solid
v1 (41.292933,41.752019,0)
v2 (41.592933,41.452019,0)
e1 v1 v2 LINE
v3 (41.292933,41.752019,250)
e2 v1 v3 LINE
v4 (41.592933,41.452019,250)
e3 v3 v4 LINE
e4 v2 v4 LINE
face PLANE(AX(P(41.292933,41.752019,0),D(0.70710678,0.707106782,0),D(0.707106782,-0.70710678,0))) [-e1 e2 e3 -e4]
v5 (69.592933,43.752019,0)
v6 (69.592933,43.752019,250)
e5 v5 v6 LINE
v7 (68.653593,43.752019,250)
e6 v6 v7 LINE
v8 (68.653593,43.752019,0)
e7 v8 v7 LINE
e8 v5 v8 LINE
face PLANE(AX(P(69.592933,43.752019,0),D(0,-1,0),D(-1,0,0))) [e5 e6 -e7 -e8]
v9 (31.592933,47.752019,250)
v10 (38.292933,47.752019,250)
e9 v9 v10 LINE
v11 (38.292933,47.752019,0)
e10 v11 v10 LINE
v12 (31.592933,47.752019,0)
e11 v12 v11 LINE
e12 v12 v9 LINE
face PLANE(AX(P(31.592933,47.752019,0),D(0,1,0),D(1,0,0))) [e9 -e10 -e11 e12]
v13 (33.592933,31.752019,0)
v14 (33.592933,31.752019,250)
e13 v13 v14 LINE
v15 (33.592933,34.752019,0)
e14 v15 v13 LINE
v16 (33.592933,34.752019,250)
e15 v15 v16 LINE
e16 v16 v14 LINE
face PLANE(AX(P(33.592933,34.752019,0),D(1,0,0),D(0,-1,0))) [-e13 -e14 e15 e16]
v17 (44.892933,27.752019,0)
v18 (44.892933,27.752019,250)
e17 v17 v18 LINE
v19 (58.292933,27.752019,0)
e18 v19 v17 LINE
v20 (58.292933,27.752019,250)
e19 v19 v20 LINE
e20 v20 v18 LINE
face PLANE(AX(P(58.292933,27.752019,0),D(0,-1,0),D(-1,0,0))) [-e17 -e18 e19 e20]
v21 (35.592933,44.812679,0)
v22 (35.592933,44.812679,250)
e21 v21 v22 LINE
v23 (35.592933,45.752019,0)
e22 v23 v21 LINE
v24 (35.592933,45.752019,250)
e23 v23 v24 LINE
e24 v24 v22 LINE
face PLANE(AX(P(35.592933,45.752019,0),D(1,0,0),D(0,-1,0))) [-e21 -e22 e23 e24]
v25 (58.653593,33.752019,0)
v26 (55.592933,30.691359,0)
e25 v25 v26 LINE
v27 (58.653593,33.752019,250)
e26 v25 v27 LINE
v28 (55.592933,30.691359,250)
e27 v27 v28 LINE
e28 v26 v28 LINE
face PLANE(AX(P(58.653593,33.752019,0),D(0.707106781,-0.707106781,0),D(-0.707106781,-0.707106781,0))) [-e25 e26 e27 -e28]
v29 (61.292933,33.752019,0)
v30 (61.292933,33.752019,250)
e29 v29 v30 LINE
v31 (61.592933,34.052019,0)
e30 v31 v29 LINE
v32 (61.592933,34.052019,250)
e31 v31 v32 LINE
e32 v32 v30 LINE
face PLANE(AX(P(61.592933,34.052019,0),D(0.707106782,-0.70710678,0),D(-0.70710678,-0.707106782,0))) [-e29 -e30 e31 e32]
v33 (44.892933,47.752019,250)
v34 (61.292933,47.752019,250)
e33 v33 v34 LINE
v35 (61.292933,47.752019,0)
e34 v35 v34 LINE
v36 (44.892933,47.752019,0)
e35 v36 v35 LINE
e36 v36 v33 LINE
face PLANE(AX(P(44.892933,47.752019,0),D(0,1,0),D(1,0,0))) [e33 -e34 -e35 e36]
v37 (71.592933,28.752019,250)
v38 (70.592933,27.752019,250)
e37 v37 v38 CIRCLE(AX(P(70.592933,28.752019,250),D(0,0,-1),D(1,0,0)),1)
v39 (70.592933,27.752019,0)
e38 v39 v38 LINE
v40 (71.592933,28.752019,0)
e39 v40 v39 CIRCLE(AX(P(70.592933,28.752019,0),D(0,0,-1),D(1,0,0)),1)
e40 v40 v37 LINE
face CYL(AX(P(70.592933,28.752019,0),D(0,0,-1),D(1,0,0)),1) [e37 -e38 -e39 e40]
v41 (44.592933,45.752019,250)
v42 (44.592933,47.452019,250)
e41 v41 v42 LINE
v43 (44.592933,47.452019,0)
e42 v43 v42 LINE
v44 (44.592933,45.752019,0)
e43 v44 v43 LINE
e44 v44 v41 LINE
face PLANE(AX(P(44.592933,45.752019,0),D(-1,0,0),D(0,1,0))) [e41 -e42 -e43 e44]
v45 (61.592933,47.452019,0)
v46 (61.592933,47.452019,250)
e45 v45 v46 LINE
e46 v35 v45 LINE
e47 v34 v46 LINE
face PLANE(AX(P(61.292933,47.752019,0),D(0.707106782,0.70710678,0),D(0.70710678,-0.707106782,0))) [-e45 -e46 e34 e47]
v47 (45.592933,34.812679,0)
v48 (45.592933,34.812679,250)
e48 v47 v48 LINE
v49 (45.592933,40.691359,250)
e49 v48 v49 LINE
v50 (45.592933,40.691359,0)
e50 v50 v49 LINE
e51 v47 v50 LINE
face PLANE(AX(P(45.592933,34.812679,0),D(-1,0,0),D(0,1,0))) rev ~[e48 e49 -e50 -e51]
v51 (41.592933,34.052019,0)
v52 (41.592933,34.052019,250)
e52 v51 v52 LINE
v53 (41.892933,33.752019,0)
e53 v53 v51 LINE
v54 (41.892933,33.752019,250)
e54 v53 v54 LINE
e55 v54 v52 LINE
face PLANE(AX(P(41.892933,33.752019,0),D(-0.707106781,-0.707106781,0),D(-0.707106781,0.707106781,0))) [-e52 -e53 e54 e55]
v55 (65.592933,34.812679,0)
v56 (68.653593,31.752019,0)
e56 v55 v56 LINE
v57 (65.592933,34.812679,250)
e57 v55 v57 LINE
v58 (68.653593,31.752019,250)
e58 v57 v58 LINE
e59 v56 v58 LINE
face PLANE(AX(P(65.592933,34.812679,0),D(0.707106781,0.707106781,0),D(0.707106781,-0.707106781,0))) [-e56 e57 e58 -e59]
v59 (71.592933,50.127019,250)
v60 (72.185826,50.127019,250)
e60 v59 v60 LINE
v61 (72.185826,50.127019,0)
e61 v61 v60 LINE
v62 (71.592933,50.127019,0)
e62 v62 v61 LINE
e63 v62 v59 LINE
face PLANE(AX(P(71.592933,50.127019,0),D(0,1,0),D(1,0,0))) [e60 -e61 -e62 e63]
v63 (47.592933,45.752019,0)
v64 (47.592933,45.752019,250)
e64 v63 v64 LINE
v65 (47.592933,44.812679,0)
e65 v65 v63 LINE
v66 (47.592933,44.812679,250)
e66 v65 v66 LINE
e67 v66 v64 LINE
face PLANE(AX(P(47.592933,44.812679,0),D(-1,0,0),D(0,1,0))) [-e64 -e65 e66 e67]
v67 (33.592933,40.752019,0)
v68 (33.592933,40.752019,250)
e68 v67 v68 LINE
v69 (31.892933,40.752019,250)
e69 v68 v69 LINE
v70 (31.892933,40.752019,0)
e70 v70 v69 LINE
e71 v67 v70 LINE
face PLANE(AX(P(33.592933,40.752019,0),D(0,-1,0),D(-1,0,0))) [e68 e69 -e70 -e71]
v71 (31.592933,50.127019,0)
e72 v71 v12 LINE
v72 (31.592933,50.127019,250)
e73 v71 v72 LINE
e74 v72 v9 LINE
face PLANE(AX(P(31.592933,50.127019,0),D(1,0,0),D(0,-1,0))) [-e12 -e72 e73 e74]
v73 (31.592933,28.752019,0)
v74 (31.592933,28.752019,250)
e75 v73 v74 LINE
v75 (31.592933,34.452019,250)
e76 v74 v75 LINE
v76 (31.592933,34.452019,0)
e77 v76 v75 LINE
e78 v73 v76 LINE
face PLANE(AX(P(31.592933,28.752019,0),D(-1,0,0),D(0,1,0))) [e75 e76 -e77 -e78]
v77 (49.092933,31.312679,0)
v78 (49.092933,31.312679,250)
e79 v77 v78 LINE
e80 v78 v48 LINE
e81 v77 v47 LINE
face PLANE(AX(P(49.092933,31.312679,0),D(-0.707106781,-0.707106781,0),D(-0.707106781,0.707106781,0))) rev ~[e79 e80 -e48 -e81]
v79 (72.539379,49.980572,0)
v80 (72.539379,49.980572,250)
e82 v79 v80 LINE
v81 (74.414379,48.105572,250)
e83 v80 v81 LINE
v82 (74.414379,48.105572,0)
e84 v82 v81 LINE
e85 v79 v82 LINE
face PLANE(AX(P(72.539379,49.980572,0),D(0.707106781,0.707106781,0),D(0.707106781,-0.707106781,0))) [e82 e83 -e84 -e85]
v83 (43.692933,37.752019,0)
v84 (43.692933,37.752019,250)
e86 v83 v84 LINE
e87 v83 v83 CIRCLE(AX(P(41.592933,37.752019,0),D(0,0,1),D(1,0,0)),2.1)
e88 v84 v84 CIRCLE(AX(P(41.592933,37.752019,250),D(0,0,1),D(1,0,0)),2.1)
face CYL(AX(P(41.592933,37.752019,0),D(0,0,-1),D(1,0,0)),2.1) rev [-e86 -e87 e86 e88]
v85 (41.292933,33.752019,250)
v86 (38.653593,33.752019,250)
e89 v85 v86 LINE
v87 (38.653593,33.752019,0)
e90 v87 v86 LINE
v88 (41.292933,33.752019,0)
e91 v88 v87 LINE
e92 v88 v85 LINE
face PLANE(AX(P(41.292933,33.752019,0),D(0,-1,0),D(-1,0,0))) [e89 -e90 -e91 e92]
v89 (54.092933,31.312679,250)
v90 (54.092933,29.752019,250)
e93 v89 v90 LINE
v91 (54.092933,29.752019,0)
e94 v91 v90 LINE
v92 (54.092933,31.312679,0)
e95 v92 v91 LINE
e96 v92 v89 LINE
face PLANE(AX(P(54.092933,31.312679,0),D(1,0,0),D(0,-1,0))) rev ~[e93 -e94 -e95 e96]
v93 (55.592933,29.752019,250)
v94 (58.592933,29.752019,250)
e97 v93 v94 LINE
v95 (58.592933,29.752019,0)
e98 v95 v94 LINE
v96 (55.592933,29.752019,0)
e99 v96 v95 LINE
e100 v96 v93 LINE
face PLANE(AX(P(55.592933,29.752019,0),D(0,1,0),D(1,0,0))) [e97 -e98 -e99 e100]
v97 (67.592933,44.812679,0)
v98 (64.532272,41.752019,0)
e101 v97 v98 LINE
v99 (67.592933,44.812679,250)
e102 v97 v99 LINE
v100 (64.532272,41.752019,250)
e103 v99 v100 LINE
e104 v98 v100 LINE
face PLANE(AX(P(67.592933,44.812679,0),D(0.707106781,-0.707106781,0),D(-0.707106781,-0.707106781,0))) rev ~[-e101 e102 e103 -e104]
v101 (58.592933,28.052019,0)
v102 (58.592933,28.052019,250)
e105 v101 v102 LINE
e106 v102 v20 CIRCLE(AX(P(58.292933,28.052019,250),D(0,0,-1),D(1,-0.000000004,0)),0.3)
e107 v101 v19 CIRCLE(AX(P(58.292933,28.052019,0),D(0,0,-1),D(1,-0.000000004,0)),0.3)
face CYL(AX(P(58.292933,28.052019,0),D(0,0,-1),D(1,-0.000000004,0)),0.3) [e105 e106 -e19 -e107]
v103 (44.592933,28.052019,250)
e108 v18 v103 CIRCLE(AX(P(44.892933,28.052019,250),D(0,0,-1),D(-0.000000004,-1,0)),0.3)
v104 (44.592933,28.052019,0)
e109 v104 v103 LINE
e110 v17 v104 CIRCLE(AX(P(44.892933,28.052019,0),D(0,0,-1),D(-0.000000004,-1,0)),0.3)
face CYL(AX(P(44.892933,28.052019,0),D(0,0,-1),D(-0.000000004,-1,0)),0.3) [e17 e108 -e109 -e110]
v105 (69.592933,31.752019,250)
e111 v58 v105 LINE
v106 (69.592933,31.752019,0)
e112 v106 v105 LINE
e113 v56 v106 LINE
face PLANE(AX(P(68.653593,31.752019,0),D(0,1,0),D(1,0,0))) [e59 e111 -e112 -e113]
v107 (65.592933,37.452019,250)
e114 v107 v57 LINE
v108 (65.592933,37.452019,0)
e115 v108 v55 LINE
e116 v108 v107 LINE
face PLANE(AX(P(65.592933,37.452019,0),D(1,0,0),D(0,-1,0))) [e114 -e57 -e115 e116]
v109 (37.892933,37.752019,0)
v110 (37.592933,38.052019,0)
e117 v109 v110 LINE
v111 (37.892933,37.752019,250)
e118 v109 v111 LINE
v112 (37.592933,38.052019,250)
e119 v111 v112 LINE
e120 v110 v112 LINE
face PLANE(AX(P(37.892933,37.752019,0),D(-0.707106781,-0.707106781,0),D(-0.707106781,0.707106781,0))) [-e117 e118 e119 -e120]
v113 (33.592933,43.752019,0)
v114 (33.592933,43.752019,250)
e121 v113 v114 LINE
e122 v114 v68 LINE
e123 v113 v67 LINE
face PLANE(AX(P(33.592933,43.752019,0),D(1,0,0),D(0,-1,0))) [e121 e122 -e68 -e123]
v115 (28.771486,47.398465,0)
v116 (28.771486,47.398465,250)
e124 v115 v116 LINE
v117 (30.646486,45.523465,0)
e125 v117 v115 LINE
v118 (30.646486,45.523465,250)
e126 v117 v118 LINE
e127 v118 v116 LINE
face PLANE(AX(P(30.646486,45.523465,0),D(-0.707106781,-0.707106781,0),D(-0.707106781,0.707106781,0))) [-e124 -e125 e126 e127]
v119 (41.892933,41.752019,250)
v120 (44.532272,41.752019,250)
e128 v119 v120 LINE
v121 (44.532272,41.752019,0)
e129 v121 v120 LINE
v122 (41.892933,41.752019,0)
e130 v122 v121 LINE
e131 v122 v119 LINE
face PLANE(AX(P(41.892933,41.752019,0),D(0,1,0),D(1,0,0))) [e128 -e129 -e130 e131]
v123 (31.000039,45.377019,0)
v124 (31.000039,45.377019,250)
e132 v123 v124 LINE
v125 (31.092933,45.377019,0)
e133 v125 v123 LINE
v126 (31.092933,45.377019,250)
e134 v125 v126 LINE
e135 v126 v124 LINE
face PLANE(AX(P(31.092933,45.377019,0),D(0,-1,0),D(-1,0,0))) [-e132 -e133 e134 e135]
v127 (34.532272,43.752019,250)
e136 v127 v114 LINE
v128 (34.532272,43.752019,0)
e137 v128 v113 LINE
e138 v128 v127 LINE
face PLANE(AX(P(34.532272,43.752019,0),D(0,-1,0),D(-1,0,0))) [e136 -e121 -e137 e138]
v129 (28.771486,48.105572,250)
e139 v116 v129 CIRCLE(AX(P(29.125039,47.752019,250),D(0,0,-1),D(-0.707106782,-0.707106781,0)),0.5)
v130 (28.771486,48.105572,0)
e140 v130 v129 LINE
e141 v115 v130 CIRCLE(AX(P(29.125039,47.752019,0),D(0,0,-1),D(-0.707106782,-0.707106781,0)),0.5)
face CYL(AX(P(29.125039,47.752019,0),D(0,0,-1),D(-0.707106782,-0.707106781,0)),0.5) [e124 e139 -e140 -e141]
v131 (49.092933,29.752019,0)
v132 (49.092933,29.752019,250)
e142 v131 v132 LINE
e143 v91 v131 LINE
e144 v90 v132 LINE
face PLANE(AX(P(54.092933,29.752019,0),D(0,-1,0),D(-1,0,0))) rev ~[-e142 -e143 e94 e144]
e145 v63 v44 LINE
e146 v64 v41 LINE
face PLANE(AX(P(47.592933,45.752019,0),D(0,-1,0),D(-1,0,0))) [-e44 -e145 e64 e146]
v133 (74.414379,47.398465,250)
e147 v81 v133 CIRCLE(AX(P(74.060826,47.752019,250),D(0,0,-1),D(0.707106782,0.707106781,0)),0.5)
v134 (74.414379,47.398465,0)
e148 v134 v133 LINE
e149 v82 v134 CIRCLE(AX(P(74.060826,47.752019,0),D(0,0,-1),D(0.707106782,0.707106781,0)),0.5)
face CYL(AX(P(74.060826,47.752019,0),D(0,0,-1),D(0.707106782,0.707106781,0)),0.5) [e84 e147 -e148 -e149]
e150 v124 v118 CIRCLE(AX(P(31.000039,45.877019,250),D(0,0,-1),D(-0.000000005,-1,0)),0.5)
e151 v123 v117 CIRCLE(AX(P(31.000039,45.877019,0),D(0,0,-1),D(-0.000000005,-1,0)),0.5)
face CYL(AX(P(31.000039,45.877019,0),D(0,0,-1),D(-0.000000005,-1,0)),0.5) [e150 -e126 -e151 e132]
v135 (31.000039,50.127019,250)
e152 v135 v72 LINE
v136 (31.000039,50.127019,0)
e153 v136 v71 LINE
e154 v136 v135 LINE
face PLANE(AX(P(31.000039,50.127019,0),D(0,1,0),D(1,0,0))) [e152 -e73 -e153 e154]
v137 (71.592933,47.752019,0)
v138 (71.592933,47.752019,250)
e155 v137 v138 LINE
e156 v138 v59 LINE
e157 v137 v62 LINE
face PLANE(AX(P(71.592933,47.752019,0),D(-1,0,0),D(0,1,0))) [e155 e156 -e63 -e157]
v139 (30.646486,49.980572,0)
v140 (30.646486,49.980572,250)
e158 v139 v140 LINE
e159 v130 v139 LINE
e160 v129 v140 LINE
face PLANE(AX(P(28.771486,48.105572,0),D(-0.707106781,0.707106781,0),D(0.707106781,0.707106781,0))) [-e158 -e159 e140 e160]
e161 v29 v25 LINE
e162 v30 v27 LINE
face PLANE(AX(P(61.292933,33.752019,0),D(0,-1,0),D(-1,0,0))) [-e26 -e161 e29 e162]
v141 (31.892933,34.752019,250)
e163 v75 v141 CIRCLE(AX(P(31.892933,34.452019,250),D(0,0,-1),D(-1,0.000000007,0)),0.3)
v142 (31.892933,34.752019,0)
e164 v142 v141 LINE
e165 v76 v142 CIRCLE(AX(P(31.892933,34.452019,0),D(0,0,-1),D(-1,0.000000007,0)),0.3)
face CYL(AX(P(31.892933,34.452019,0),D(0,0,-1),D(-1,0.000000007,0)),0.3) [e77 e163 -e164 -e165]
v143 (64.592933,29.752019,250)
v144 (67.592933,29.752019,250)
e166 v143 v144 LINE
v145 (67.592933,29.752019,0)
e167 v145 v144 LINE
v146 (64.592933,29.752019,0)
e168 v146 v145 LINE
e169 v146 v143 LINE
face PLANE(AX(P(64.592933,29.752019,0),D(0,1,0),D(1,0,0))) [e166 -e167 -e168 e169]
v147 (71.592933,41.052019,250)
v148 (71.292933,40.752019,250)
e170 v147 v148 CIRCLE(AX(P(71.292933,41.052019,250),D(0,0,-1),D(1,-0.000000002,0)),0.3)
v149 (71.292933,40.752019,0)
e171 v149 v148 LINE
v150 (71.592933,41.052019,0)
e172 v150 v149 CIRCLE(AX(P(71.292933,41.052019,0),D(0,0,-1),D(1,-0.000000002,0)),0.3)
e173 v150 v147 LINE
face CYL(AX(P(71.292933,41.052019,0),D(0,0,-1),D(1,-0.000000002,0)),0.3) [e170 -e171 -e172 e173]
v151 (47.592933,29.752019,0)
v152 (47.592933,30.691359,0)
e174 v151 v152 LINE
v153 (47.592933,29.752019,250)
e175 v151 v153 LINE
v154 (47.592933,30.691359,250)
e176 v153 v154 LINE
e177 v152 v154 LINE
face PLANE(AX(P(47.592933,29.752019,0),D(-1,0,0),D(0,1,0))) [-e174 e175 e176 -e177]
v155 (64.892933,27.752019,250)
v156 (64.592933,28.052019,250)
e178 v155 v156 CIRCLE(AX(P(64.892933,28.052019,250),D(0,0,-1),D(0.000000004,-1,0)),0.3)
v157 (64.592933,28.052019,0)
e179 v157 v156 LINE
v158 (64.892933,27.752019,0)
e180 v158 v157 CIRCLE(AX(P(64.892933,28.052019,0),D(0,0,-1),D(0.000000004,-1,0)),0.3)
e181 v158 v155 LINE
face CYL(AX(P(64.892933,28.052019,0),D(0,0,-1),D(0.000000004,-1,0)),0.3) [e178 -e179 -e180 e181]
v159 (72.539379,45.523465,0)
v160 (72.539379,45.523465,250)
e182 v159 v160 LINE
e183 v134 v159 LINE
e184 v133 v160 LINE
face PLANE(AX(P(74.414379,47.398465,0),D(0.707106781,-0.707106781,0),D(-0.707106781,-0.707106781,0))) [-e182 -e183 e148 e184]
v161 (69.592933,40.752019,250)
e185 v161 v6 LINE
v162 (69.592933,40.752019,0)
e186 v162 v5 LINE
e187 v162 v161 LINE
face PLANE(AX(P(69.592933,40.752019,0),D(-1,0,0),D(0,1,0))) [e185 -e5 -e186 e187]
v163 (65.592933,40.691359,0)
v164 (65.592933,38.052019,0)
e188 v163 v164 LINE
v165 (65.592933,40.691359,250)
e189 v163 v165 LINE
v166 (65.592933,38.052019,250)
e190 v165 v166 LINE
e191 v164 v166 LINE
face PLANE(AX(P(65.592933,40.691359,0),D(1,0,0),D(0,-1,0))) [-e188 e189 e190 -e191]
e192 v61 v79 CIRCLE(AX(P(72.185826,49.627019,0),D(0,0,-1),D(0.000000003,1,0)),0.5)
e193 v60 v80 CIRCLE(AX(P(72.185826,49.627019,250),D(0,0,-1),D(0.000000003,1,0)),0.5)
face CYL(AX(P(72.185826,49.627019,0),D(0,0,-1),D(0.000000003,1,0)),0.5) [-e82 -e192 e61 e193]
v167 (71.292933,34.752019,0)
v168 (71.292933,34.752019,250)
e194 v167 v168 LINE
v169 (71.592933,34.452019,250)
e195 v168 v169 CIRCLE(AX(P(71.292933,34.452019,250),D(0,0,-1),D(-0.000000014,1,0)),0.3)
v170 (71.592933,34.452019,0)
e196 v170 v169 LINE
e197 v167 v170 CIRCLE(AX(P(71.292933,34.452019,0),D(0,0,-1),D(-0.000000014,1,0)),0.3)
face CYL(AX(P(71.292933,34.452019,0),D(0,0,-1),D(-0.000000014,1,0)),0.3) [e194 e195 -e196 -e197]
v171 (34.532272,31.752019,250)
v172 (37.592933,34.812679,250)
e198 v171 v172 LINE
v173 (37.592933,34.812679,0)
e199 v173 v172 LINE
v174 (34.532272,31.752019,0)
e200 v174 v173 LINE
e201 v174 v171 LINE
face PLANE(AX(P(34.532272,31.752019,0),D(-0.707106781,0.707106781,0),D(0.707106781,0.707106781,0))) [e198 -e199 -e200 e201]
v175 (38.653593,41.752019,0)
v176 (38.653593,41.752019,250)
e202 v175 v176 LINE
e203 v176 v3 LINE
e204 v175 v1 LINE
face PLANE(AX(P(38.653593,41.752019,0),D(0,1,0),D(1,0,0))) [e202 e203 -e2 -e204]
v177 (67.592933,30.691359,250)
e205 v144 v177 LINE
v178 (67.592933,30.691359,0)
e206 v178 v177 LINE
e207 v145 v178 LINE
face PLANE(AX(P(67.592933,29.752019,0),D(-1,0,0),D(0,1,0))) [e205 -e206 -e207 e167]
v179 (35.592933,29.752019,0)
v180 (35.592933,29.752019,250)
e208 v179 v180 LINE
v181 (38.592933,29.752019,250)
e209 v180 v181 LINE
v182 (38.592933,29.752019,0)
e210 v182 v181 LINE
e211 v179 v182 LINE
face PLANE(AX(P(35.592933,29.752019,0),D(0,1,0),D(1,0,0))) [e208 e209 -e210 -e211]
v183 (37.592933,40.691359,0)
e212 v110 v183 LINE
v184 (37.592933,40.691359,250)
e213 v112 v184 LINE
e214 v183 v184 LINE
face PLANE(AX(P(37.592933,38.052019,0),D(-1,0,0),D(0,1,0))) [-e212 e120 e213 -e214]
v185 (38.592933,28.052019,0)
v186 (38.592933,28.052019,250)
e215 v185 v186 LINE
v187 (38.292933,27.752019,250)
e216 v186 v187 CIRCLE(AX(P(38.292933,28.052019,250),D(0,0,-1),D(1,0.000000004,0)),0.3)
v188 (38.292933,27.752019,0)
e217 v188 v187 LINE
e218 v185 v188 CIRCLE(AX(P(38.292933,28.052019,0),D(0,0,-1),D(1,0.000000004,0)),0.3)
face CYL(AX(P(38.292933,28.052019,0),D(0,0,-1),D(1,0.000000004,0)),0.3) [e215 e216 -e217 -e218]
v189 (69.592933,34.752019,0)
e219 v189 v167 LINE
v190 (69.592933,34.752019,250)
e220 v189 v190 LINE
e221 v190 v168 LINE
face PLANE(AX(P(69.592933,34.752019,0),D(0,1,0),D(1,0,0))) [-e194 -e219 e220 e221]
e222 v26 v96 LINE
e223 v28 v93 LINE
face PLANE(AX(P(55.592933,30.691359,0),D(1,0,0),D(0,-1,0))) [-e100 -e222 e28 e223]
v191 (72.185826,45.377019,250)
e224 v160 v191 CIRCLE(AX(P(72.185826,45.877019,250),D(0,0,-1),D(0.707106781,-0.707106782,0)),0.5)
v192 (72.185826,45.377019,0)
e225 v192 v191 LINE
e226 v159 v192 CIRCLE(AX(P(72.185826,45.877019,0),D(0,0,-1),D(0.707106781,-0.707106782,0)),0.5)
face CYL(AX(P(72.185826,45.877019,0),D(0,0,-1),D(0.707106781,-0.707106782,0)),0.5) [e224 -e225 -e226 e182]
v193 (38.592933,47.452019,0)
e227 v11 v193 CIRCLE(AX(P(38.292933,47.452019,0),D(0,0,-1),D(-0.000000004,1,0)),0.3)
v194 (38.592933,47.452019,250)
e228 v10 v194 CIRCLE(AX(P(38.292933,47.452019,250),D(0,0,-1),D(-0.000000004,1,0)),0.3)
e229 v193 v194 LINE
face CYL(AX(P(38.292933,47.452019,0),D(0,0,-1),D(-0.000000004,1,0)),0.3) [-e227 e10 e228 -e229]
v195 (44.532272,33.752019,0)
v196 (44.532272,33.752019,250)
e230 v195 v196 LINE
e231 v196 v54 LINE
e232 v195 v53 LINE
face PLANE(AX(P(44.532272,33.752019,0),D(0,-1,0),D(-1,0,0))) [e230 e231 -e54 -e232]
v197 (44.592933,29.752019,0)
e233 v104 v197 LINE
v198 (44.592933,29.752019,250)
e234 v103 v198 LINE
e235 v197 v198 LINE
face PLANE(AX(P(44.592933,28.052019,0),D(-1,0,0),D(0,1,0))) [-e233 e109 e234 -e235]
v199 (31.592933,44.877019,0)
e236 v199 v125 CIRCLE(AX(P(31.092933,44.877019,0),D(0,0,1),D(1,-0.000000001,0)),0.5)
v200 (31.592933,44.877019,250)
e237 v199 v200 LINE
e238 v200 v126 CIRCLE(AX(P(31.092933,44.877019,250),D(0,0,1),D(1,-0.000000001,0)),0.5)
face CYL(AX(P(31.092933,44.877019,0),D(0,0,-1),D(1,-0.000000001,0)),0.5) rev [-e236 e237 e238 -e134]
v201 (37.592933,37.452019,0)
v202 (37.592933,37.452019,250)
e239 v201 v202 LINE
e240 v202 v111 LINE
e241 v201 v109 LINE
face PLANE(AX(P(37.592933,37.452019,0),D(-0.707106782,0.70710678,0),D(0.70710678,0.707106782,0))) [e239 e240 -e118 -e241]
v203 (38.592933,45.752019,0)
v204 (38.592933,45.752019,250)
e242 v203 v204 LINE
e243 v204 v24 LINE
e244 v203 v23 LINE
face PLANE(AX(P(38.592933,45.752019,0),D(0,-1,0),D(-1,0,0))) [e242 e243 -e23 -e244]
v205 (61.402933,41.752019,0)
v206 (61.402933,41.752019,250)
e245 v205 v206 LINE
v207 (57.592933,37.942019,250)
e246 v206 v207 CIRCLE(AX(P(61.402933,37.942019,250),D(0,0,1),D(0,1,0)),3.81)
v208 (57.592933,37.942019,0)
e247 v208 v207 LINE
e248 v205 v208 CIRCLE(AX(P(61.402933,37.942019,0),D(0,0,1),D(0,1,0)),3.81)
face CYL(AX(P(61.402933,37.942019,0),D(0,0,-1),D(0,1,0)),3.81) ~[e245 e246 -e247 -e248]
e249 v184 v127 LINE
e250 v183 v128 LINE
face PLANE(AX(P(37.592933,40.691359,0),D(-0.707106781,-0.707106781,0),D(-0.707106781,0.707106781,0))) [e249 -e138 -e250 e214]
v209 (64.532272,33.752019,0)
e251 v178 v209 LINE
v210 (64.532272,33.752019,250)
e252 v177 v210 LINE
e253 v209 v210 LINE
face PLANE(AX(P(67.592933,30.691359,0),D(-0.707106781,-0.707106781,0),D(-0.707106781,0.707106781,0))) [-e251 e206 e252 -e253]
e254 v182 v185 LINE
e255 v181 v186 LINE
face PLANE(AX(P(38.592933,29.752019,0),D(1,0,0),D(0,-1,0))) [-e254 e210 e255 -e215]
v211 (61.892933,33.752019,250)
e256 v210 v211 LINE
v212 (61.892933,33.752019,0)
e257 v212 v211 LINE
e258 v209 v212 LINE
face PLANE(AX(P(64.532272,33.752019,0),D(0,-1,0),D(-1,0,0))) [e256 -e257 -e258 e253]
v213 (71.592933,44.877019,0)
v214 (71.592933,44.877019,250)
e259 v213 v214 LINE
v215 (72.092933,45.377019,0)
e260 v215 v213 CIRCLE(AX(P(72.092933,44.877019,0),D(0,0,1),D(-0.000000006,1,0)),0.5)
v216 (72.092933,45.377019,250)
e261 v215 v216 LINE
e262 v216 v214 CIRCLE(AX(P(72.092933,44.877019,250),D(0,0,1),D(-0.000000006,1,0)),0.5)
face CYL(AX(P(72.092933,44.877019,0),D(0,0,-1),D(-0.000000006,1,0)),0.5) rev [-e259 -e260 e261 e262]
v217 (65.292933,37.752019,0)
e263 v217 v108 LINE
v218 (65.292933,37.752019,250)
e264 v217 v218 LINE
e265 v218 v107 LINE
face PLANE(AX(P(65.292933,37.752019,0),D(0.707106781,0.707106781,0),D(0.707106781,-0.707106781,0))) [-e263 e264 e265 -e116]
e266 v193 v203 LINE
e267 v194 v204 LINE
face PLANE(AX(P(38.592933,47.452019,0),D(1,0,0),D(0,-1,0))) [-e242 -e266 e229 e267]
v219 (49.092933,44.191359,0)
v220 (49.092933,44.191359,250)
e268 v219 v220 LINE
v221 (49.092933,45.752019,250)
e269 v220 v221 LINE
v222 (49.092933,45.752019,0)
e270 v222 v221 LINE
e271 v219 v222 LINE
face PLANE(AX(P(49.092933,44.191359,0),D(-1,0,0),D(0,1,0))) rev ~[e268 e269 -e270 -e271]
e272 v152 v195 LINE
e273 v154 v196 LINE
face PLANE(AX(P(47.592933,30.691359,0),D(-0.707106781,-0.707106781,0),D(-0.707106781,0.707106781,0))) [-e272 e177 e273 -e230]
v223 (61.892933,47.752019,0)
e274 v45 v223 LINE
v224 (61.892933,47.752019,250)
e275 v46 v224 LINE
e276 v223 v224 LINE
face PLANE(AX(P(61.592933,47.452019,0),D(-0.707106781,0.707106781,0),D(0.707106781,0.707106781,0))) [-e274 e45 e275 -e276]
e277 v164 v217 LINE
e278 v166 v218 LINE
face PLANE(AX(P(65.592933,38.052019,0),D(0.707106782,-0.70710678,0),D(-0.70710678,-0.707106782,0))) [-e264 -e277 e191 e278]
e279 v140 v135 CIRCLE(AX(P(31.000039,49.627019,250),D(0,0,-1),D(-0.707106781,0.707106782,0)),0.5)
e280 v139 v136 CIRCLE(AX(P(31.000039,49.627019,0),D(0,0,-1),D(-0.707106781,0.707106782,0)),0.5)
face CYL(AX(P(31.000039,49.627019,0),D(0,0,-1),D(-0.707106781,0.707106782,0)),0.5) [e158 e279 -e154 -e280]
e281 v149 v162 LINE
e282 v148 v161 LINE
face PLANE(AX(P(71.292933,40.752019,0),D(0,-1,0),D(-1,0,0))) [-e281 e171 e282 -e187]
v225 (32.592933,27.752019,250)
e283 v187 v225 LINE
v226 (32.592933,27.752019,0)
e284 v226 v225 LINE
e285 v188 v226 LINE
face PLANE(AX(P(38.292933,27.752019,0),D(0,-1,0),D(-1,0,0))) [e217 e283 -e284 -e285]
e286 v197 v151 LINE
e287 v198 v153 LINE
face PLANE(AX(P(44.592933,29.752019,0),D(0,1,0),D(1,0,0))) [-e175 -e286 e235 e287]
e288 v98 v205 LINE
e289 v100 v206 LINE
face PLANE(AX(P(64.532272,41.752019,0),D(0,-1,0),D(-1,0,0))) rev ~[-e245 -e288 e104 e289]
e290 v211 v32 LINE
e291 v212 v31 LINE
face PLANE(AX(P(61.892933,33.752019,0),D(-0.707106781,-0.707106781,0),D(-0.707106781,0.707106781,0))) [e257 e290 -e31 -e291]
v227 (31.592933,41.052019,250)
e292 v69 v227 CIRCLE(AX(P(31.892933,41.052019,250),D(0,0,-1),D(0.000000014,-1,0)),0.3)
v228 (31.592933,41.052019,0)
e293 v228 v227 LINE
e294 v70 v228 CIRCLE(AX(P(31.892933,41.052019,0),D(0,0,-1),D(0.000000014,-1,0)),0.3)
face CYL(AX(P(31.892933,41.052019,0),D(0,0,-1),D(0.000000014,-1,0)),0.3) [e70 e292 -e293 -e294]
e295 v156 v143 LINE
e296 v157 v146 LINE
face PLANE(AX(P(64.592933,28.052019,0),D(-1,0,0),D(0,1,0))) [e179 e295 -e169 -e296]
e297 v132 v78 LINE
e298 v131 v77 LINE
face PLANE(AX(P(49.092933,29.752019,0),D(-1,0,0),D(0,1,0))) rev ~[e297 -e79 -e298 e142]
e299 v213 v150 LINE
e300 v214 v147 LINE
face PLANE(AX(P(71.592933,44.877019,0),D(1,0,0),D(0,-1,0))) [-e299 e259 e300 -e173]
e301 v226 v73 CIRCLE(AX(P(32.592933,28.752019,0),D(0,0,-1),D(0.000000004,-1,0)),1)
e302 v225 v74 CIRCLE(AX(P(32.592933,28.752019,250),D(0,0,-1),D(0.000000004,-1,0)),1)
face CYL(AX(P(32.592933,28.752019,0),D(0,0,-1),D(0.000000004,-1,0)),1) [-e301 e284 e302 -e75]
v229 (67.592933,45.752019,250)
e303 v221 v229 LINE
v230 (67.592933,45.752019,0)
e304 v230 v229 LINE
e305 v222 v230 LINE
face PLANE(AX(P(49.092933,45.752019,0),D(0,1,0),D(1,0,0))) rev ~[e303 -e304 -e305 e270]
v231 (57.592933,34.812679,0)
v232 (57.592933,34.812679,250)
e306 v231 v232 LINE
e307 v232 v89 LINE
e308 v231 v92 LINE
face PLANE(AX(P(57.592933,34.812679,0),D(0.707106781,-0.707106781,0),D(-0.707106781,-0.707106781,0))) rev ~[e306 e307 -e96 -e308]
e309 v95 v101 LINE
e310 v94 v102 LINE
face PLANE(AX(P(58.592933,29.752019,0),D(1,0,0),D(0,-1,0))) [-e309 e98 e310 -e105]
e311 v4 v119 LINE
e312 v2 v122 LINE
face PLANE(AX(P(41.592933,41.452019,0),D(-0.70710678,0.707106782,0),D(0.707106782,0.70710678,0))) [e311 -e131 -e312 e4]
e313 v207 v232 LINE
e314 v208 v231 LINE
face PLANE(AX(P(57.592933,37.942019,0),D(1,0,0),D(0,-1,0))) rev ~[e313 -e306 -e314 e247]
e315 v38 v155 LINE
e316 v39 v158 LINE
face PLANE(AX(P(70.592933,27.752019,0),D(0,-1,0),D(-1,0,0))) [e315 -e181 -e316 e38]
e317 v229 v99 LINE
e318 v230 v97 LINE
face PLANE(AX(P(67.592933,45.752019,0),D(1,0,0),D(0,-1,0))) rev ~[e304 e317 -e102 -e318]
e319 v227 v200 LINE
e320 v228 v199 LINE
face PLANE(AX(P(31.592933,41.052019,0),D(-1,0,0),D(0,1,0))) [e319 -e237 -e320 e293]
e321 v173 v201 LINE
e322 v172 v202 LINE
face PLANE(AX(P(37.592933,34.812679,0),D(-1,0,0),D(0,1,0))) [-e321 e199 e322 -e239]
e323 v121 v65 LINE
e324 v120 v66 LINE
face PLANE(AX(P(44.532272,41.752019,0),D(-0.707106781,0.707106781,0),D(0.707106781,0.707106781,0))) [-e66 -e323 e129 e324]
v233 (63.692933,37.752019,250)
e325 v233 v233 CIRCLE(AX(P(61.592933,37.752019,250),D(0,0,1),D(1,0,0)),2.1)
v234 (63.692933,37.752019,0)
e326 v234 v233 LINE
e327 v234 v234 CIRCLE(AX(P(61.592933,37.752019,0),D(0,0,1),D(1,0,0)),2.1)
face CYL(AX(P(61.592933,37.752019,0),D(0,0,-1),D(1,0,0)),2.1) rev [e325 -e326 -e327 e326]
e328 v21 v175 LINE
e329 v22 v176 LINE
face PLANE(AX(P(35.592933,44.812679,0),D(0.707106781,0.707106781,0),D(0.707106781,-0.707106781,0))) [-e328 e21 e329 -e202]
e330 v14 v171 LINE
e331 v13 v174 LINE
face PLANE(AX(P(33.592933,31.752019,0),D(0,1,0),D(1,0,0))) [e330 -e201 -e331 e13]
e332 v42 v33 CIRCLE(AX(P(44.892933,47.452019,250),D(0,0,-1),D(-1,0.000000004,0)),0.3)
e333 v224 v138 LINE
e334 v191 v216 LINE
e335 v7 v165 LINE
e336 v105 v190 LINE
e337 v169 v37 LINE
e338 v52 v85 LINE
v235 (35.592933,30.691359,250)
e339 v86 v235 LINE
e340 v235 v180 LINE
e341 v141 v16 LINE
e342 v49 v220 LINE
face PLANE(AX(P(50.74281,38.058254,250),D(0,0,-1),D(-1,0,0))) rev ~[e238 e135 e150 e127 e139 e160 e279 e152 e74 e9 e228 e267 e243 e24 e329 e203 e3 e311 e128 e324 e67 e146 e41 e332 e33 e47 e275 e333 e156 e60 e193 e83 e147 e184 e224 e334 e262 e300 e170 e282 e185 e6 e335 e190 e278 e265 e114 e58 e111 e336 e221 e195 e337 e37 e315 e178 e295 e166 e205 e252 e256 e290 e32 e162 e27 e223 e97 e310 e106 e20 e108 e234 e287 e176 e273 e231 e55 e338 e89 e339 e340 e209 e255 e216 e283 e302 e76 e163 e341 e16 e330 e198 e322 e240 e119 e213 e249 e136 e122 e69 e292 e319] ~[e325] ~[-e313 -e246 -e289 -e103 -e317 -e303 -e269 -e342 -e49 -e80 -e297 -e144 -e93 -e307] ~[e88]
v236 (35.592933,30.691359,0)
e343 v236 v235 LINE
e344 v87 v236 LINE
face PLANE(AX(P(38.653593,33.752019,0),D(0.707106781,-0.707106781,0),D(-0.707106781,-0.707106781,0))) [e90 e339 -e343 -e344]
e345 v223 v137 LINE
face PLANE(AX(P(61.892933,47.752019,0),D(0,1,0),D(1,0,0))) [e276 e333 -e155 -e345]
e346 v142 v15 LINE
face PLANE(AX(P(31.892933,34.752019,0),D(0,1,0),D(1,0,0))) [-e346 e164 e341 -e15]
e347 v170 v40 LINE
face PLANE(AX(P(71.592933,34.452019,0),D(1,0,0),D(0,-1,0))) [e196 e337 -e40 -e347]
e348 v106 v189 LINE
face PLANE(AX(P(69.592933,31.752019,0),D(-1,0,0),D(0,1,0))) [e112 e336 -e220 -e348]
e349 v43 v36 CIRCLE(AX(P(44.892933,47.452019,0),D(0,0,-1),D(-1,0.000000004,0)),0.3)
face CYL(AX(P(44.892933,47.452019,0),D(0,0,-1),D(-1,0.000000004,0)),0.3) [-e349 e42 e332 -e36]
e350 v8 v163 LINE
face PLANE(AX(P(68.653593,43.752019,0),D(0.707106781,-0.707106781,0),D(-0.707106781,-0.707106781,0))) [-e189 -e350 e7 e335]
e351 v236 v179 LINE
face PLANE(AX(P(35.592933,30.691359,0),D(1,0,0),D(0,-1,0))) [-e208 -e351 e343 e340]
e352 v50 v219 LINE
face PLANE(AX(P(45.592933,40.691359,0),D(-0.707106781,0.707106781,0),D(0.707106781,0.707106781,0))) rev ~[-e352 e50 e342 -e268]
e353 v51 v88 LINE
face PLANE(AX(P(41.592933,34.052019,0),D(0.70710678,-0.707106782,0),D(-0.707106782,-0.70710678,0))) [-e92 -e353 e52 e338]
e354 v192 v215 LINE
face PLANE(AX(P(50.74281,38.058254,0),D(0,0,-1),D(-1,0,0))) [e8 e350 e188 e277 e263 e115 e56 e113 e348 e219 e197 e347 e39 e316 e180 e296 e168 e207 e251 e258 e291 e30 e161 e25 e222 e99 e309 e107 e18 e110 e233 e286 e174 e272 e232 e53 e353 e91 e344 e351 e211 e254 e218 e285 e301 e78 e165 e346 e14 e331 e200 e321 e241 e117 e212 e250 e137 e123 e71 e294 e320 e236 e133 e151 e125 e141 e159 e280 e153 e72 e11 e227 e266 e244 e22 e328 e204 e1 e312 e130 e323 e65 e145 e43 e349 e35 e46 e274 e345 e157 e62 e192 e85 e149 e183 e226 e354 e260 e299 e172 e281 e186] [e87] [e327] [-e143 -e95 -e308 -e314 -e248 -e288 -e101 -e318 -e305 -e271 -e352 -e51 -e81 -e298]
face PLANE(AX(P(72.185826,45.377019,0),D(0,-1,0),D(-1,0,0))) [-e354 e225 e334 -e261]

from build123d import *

# Parameters (mm, degrees)
MODEL_R             = 2.100000001
BOSS_EXTRUDE1_DEPTH = 250


with BuildPart() as part:
    # Model → Boss-Extrude1 (new body)
    with BuildSketch(Plane.XY):
        with BuildLine():
            Line((28.771485975, 48.105572105), (30.646485975, 49.980572105))
            ThreePointArc((30.646485975, 49.980572105), (30.808697649, 50.08895848), (31.000039365, 50.127018713))
            Line((31.000039365, 50.127018713), (31.592932584, 50.127018713))
            Line((31.592932584, 50.127018713), (31.592932584, 47.752018713))
            Line((31.592932584, 47.752018713), (38.292932585, 47.752018713))
            ThreePointArc((38.292932585, 47.752018713), (38.505064619, 47.664150748), (38.592932584, 47.452018714))
            Line((38.592932584, 47.452018714), (38.592932584, 45.752018713))
            Line((38.592932584, 45.752018713), (35.592932585, 45.752018713))
            Line((35.592932585, 45.752018713), (35.592932585, 44.812678885))
            Line((35.592932585, 44.812678885), (38.653592756, 41.752018713))
            Line((38.653592756, 41.752018713), (41.292932583, 41.752018713))
            Line((41.292932583, 41.752018713), (41.592932584, 41.452018713))
            Line((41.592932584, 41.452018713), (41.892932586, 41.752018714))
            Line((41.892932586, 41.752018714), (44.532272412, 41.752018714))
            Line((44.532272412, 41.752018714), (47.592932584, 44.812678886))
            Line((47.592932584, 44.812678886), (47.592932584, 45.752018714))
            Line((47.592932584, 45.752018714), (44.592932584, 45.752018714))
            Line((44.592932584, 45.752018714), (44.592932584, 47.452018715))
            ThreePointArc((44.592932584, 47.452018715), (44.68080055, 47.664150749), (44.892932584, 47.752018715))
            Line((44.892932584, 47.752018715), (61.292932583, 47.752018715))
            Line((61.292932583, 47.752018715), (61.592932582, 47.452018715))
            Line((61.592932582, 47.452018715), (61.892932583, 47.752018716))
            Line((61.892932583, 47.752018716), (71.592932583, 47.752018716))
            Line((71.592932583, 47.752018716), (71.592932583, 50.127018711))
            Line((71.592932583, 50.127018711), (72.185825802, 50.127018711))
            ThreePointArc((72.185825802, 50.127018711), (72.377167518, 50.088958477), (72.539379192, 49.980572102))
            Line((72.539379192, 49.980572102), (74.414379192, 48.105572102))
            ThreePointArc((74.414379192, 48.105572102), (74.560825801, 47.752018712), (74.414379192, 47.398465322))
            Line((74.414379192, 47.398465322), (72.539379192, 45.523465322))
            ThreePointArc((72.539379192, 45.523465322), (72.377167518, 45.415078947), (72.185825802, 45.377018714))
            Line((72.185825802, 45.377018714), (72.092932582, 45.377018714))
            ThreePointArc((72.092932582, 45.377018714), (71.739379192, 45.230572103), (71.592932583, 44.877018713))
            Line((71.592932583, 44.877018713), (71.592932583, 41.052018712))
            ThreePointArc((71.592932583, 41.052018712), (71.505064617, 40.839886678), (71.292932581, 40.752018713))
            Line((71.292932581, 40.752018713), (69.592932583, 40.752018713))
            Line((69.592932583, 40.752018713), (69.592932583, 43.752018712))
            Line((69.592932583, 43.752018712), (68.653592755, 43.752018712))
            Line((68.653592755, 43.752018712), (65.592932583, 40.691358541))
            Line((65.592932583, 40.691358541), (65.592932583, 38.052018712))
            Line((65.592932583, 38.052018712), (65.292932584, 37.752018712))
            Line((65.292932584, 37.752018712), (65.592932583, 37.452018713))
            Line((65.592932583, 37.452018713), (65.592932583, 34.812678884))
            Line((65.592932583, 34.812678884), (68.653592755, 31.752018712))
            Line((68.653592755, 31.752018712), (69.592932583, 31.752018712))
            Line((69.592932583, 31.752018712), (69.592932583, 34.752018711))
            Line((69.592932583, 34.752018711), (71.292932581, 34.752018711))
            ThreePointArc((71.292932581, 34.752018711), (71.505064617, 34.664150747), (71.592932583, 34.452018712))
            Line((71.592932583, 34.452018712), (71.592932583, 28.75201871))
            ThreePointArc((71.592932583, 28.75201871), (71.300039364, 28.044911929), (70.592932582, 27.752018711))
            Line((70.592932582, 27.752018711), (64.892932582, 27.752018711))
            ThreePointArc((64.892932582, 27.752018711), (64.680800548, 27.839886676), (64.592932583, 28.05201871))
            Line((64.592932583, 28.05201871), (64.592932583, 29.752018711))
            Line((64.592932583, 29.752018711), (67.592932582, 29.752018711))
            Line((67.592932582, 29.752018711), (67.592932582, 30.69135854))
            Line((67.592932582, 30.69135854), (64.532272411, 33.752018711))
            Line((64.532272411, 33.752018711), (61.892932584, 33.752018711))
            Line((61.892932584, 33.752018711), (61.592932582, 34.052018713))
            Line((61.592932582, 34.052018713), (61.292932582, 33.752018712))
            Line((61.292932582, 33.752018712), (58.653592755, 33.752018712))
            Line((58.653592755, 33.752018712), (55.592932583, 30.691358541))
            Line((55.592932583, 30.691358541), (55.592932583, 29.752018713))
            Line((55.592932583, 29.752018713), (58.592932583, 29.752018713))
            Line((58.592932583, 29.752018713), (58.592932583, 28.052018712))
            ThreePointArc((58.592932583, 28.052018712), (58.505064617, 27.839886678), (58.292932583, 27.752018712))
            Line((58.292932583, 27.752018712), (44.892932584, 27.752018712))
            ThreePointArc((44.892932584, 27.752018712), (44.68080055, 27.839886678), (44.592932584, 28.052018712))
            Line((44.592932584, 28.052018712), (44.592932584, 29.752018713))
            Line((44.592932584, 29.752018713), (47.592932584, 29.752018713))
            Line((47.592932584, 29.752018713), (47.592932584, 30.691358541))
            Line((47.592932584, 30.691358541), (44.532272412, 33.752018712))
            Line((44.532272412, 33.752018712), (41.892932586, 33.752018712))
            Line((41.892932586, 33.752018712), (41.592932584, 34.052018714))
            Line((41.592932584, 34.052018714), (41.292932583, 33.752018714))
            Line((41.292932583, 33.752018714), (38.653592756, 33.752018714))
            Line((38.653592756, 33.752018714), (35.592932585, 30.691358542))
            Line((35.592932585, 30.691358542), (35.592932585, 29.752018714))
            Line((35.592932585, 29.752018714), (38.592932584, 29.752018714))
            Line((38.592932584, 29.752018714), (38.592932584, 28.052018713))
            ThreePointArc((38.592932584, 28.052018713), (38.505064619, 27.839886679), (38.292932585, 27.752018714))
            Line((38.292932585, 27.752018714), (32.592932585, 27.752018714))
            ThreePointArc((32.592932585, 27.752018714), (31.885825803, 28.044911931), (31.592932584, 28.752018713))
            Line((31.592932584, 28.752018713), (31.592932584, 34.452018715))
            ThreePointArc((31.592932584, 34.452018715), (31.68080055, 34.664150748), (31.892932583, 34.752018714))
            Line((31.892932583, 34.752018714), (33.592932584, 34.752018714))
            Line((33.592932584, 34.752018714), (33.592932584, 31.752018715))
            Line((33.592932584, 31.752018715), (34.532272412, 31.752018715))
            Line((34.532272412, 31.752018715), (37.592932584, 34.812678886))
            Line((37.592932584, 34.812678886), (37.592932584, 37.452018715))
            Line((37.592932584, 37.452018715), (37.892932583, 37.752018715))
            Line((37.892932583, 37.752018715), (37.592932584, 38.052018714))
            Line((37.592932584, 38.052018714), (37.592932584, 40.691358543))
            Line((37.592932584, 40.691358543), (34.532272412, 43.752018715))
            Line((34.532272412, 43.752018715), (33.592932584, 43.752018715))
            Line((33.592932584, 43.752018715), (33.592932584, 40.752018716))
            Line((33.592932584, 40.752018716), (31.892932586, 40.752018716))
            ThreePointArc((31.892932586, 40.752018716), (31.68080055, 40.83988668), (31.592932584, 41.052018715))
            Line((31.592932584, 41.052018715), (31.592932584, 44.877018715))
            ThreePointArc((31.592932584, 44.877018715), (31.446485975, 45.230572106), (31.092932585, 45.377018716))
            Line((31.092932585, 45.377018716), (31.000039365, 45.377018716))
            ThreePointArc((31.000039365, 45.377018716), (30.808697649, 45.41507895), (30.646485975, 45.523465324))
            Line((30.646485975, 45.523465324), (28.771485975, 47.398465325))
            ThreePointArc((28.771485975, 47.398465325), (28.625039366, 47.752018715), (28.771485975, 48.105572105))
        make_face()
        with Locations((61.592932582, 37.752018715)):
            Circle(MODEL_R, mode=Mode.SUBTRACT)
        with Locations((41.592932582, 37.752018715)):
            Circle(MODEL_R, mode=Mode.SUBTRACT)
        with BuildLine():
            Line((54.092932584, 29.752018715), (49.092932584, 29.752018715))
            Line((49.092932584, 29.752018715), (49.092932584, 31.312678886))
            Line((49.092932584, 31.312678886), (45.592932583, 34.812678886))
            Line((45.592932583, 34.812678886), (45.592932583, 40.691358543))
            Line((45.592932583, 40.691358543), (49.092932584, 44.191358544))
            Line((49.092932584, 44.191358544), (49.092932584, 45.752018714))
            Line((49.092932584, 45.752018714), (67.592932582, 45.752018714))
            Line((67.592932582, 45.752018714), (67.592932582, 44.812678887))
            Line((67.592932582, 44.812678887), (64.532272411, 41.752018716))
            Line((64.532272411, 41.752018716), (61.402932584, 41.752018716))
            ThreePointArc((61.402932584, 41.752018716), (58.708855747, 40.636095552), (57.592932584, 37.942018716))
            Line((57.592932584, 37.942018716), (57.592932584, 34.812678886))
            Line((57.592932584, 34.812678886), (54.092932584, 31.312678886))
            Line((54.092932584, 31.312678886), (54.092932584, 29.752018715))
        make_face(mode=Mode.SUBTRACT)
    extrude(amount=BOSS_EXTRUDE1_DEPTH)


solid = part.part
